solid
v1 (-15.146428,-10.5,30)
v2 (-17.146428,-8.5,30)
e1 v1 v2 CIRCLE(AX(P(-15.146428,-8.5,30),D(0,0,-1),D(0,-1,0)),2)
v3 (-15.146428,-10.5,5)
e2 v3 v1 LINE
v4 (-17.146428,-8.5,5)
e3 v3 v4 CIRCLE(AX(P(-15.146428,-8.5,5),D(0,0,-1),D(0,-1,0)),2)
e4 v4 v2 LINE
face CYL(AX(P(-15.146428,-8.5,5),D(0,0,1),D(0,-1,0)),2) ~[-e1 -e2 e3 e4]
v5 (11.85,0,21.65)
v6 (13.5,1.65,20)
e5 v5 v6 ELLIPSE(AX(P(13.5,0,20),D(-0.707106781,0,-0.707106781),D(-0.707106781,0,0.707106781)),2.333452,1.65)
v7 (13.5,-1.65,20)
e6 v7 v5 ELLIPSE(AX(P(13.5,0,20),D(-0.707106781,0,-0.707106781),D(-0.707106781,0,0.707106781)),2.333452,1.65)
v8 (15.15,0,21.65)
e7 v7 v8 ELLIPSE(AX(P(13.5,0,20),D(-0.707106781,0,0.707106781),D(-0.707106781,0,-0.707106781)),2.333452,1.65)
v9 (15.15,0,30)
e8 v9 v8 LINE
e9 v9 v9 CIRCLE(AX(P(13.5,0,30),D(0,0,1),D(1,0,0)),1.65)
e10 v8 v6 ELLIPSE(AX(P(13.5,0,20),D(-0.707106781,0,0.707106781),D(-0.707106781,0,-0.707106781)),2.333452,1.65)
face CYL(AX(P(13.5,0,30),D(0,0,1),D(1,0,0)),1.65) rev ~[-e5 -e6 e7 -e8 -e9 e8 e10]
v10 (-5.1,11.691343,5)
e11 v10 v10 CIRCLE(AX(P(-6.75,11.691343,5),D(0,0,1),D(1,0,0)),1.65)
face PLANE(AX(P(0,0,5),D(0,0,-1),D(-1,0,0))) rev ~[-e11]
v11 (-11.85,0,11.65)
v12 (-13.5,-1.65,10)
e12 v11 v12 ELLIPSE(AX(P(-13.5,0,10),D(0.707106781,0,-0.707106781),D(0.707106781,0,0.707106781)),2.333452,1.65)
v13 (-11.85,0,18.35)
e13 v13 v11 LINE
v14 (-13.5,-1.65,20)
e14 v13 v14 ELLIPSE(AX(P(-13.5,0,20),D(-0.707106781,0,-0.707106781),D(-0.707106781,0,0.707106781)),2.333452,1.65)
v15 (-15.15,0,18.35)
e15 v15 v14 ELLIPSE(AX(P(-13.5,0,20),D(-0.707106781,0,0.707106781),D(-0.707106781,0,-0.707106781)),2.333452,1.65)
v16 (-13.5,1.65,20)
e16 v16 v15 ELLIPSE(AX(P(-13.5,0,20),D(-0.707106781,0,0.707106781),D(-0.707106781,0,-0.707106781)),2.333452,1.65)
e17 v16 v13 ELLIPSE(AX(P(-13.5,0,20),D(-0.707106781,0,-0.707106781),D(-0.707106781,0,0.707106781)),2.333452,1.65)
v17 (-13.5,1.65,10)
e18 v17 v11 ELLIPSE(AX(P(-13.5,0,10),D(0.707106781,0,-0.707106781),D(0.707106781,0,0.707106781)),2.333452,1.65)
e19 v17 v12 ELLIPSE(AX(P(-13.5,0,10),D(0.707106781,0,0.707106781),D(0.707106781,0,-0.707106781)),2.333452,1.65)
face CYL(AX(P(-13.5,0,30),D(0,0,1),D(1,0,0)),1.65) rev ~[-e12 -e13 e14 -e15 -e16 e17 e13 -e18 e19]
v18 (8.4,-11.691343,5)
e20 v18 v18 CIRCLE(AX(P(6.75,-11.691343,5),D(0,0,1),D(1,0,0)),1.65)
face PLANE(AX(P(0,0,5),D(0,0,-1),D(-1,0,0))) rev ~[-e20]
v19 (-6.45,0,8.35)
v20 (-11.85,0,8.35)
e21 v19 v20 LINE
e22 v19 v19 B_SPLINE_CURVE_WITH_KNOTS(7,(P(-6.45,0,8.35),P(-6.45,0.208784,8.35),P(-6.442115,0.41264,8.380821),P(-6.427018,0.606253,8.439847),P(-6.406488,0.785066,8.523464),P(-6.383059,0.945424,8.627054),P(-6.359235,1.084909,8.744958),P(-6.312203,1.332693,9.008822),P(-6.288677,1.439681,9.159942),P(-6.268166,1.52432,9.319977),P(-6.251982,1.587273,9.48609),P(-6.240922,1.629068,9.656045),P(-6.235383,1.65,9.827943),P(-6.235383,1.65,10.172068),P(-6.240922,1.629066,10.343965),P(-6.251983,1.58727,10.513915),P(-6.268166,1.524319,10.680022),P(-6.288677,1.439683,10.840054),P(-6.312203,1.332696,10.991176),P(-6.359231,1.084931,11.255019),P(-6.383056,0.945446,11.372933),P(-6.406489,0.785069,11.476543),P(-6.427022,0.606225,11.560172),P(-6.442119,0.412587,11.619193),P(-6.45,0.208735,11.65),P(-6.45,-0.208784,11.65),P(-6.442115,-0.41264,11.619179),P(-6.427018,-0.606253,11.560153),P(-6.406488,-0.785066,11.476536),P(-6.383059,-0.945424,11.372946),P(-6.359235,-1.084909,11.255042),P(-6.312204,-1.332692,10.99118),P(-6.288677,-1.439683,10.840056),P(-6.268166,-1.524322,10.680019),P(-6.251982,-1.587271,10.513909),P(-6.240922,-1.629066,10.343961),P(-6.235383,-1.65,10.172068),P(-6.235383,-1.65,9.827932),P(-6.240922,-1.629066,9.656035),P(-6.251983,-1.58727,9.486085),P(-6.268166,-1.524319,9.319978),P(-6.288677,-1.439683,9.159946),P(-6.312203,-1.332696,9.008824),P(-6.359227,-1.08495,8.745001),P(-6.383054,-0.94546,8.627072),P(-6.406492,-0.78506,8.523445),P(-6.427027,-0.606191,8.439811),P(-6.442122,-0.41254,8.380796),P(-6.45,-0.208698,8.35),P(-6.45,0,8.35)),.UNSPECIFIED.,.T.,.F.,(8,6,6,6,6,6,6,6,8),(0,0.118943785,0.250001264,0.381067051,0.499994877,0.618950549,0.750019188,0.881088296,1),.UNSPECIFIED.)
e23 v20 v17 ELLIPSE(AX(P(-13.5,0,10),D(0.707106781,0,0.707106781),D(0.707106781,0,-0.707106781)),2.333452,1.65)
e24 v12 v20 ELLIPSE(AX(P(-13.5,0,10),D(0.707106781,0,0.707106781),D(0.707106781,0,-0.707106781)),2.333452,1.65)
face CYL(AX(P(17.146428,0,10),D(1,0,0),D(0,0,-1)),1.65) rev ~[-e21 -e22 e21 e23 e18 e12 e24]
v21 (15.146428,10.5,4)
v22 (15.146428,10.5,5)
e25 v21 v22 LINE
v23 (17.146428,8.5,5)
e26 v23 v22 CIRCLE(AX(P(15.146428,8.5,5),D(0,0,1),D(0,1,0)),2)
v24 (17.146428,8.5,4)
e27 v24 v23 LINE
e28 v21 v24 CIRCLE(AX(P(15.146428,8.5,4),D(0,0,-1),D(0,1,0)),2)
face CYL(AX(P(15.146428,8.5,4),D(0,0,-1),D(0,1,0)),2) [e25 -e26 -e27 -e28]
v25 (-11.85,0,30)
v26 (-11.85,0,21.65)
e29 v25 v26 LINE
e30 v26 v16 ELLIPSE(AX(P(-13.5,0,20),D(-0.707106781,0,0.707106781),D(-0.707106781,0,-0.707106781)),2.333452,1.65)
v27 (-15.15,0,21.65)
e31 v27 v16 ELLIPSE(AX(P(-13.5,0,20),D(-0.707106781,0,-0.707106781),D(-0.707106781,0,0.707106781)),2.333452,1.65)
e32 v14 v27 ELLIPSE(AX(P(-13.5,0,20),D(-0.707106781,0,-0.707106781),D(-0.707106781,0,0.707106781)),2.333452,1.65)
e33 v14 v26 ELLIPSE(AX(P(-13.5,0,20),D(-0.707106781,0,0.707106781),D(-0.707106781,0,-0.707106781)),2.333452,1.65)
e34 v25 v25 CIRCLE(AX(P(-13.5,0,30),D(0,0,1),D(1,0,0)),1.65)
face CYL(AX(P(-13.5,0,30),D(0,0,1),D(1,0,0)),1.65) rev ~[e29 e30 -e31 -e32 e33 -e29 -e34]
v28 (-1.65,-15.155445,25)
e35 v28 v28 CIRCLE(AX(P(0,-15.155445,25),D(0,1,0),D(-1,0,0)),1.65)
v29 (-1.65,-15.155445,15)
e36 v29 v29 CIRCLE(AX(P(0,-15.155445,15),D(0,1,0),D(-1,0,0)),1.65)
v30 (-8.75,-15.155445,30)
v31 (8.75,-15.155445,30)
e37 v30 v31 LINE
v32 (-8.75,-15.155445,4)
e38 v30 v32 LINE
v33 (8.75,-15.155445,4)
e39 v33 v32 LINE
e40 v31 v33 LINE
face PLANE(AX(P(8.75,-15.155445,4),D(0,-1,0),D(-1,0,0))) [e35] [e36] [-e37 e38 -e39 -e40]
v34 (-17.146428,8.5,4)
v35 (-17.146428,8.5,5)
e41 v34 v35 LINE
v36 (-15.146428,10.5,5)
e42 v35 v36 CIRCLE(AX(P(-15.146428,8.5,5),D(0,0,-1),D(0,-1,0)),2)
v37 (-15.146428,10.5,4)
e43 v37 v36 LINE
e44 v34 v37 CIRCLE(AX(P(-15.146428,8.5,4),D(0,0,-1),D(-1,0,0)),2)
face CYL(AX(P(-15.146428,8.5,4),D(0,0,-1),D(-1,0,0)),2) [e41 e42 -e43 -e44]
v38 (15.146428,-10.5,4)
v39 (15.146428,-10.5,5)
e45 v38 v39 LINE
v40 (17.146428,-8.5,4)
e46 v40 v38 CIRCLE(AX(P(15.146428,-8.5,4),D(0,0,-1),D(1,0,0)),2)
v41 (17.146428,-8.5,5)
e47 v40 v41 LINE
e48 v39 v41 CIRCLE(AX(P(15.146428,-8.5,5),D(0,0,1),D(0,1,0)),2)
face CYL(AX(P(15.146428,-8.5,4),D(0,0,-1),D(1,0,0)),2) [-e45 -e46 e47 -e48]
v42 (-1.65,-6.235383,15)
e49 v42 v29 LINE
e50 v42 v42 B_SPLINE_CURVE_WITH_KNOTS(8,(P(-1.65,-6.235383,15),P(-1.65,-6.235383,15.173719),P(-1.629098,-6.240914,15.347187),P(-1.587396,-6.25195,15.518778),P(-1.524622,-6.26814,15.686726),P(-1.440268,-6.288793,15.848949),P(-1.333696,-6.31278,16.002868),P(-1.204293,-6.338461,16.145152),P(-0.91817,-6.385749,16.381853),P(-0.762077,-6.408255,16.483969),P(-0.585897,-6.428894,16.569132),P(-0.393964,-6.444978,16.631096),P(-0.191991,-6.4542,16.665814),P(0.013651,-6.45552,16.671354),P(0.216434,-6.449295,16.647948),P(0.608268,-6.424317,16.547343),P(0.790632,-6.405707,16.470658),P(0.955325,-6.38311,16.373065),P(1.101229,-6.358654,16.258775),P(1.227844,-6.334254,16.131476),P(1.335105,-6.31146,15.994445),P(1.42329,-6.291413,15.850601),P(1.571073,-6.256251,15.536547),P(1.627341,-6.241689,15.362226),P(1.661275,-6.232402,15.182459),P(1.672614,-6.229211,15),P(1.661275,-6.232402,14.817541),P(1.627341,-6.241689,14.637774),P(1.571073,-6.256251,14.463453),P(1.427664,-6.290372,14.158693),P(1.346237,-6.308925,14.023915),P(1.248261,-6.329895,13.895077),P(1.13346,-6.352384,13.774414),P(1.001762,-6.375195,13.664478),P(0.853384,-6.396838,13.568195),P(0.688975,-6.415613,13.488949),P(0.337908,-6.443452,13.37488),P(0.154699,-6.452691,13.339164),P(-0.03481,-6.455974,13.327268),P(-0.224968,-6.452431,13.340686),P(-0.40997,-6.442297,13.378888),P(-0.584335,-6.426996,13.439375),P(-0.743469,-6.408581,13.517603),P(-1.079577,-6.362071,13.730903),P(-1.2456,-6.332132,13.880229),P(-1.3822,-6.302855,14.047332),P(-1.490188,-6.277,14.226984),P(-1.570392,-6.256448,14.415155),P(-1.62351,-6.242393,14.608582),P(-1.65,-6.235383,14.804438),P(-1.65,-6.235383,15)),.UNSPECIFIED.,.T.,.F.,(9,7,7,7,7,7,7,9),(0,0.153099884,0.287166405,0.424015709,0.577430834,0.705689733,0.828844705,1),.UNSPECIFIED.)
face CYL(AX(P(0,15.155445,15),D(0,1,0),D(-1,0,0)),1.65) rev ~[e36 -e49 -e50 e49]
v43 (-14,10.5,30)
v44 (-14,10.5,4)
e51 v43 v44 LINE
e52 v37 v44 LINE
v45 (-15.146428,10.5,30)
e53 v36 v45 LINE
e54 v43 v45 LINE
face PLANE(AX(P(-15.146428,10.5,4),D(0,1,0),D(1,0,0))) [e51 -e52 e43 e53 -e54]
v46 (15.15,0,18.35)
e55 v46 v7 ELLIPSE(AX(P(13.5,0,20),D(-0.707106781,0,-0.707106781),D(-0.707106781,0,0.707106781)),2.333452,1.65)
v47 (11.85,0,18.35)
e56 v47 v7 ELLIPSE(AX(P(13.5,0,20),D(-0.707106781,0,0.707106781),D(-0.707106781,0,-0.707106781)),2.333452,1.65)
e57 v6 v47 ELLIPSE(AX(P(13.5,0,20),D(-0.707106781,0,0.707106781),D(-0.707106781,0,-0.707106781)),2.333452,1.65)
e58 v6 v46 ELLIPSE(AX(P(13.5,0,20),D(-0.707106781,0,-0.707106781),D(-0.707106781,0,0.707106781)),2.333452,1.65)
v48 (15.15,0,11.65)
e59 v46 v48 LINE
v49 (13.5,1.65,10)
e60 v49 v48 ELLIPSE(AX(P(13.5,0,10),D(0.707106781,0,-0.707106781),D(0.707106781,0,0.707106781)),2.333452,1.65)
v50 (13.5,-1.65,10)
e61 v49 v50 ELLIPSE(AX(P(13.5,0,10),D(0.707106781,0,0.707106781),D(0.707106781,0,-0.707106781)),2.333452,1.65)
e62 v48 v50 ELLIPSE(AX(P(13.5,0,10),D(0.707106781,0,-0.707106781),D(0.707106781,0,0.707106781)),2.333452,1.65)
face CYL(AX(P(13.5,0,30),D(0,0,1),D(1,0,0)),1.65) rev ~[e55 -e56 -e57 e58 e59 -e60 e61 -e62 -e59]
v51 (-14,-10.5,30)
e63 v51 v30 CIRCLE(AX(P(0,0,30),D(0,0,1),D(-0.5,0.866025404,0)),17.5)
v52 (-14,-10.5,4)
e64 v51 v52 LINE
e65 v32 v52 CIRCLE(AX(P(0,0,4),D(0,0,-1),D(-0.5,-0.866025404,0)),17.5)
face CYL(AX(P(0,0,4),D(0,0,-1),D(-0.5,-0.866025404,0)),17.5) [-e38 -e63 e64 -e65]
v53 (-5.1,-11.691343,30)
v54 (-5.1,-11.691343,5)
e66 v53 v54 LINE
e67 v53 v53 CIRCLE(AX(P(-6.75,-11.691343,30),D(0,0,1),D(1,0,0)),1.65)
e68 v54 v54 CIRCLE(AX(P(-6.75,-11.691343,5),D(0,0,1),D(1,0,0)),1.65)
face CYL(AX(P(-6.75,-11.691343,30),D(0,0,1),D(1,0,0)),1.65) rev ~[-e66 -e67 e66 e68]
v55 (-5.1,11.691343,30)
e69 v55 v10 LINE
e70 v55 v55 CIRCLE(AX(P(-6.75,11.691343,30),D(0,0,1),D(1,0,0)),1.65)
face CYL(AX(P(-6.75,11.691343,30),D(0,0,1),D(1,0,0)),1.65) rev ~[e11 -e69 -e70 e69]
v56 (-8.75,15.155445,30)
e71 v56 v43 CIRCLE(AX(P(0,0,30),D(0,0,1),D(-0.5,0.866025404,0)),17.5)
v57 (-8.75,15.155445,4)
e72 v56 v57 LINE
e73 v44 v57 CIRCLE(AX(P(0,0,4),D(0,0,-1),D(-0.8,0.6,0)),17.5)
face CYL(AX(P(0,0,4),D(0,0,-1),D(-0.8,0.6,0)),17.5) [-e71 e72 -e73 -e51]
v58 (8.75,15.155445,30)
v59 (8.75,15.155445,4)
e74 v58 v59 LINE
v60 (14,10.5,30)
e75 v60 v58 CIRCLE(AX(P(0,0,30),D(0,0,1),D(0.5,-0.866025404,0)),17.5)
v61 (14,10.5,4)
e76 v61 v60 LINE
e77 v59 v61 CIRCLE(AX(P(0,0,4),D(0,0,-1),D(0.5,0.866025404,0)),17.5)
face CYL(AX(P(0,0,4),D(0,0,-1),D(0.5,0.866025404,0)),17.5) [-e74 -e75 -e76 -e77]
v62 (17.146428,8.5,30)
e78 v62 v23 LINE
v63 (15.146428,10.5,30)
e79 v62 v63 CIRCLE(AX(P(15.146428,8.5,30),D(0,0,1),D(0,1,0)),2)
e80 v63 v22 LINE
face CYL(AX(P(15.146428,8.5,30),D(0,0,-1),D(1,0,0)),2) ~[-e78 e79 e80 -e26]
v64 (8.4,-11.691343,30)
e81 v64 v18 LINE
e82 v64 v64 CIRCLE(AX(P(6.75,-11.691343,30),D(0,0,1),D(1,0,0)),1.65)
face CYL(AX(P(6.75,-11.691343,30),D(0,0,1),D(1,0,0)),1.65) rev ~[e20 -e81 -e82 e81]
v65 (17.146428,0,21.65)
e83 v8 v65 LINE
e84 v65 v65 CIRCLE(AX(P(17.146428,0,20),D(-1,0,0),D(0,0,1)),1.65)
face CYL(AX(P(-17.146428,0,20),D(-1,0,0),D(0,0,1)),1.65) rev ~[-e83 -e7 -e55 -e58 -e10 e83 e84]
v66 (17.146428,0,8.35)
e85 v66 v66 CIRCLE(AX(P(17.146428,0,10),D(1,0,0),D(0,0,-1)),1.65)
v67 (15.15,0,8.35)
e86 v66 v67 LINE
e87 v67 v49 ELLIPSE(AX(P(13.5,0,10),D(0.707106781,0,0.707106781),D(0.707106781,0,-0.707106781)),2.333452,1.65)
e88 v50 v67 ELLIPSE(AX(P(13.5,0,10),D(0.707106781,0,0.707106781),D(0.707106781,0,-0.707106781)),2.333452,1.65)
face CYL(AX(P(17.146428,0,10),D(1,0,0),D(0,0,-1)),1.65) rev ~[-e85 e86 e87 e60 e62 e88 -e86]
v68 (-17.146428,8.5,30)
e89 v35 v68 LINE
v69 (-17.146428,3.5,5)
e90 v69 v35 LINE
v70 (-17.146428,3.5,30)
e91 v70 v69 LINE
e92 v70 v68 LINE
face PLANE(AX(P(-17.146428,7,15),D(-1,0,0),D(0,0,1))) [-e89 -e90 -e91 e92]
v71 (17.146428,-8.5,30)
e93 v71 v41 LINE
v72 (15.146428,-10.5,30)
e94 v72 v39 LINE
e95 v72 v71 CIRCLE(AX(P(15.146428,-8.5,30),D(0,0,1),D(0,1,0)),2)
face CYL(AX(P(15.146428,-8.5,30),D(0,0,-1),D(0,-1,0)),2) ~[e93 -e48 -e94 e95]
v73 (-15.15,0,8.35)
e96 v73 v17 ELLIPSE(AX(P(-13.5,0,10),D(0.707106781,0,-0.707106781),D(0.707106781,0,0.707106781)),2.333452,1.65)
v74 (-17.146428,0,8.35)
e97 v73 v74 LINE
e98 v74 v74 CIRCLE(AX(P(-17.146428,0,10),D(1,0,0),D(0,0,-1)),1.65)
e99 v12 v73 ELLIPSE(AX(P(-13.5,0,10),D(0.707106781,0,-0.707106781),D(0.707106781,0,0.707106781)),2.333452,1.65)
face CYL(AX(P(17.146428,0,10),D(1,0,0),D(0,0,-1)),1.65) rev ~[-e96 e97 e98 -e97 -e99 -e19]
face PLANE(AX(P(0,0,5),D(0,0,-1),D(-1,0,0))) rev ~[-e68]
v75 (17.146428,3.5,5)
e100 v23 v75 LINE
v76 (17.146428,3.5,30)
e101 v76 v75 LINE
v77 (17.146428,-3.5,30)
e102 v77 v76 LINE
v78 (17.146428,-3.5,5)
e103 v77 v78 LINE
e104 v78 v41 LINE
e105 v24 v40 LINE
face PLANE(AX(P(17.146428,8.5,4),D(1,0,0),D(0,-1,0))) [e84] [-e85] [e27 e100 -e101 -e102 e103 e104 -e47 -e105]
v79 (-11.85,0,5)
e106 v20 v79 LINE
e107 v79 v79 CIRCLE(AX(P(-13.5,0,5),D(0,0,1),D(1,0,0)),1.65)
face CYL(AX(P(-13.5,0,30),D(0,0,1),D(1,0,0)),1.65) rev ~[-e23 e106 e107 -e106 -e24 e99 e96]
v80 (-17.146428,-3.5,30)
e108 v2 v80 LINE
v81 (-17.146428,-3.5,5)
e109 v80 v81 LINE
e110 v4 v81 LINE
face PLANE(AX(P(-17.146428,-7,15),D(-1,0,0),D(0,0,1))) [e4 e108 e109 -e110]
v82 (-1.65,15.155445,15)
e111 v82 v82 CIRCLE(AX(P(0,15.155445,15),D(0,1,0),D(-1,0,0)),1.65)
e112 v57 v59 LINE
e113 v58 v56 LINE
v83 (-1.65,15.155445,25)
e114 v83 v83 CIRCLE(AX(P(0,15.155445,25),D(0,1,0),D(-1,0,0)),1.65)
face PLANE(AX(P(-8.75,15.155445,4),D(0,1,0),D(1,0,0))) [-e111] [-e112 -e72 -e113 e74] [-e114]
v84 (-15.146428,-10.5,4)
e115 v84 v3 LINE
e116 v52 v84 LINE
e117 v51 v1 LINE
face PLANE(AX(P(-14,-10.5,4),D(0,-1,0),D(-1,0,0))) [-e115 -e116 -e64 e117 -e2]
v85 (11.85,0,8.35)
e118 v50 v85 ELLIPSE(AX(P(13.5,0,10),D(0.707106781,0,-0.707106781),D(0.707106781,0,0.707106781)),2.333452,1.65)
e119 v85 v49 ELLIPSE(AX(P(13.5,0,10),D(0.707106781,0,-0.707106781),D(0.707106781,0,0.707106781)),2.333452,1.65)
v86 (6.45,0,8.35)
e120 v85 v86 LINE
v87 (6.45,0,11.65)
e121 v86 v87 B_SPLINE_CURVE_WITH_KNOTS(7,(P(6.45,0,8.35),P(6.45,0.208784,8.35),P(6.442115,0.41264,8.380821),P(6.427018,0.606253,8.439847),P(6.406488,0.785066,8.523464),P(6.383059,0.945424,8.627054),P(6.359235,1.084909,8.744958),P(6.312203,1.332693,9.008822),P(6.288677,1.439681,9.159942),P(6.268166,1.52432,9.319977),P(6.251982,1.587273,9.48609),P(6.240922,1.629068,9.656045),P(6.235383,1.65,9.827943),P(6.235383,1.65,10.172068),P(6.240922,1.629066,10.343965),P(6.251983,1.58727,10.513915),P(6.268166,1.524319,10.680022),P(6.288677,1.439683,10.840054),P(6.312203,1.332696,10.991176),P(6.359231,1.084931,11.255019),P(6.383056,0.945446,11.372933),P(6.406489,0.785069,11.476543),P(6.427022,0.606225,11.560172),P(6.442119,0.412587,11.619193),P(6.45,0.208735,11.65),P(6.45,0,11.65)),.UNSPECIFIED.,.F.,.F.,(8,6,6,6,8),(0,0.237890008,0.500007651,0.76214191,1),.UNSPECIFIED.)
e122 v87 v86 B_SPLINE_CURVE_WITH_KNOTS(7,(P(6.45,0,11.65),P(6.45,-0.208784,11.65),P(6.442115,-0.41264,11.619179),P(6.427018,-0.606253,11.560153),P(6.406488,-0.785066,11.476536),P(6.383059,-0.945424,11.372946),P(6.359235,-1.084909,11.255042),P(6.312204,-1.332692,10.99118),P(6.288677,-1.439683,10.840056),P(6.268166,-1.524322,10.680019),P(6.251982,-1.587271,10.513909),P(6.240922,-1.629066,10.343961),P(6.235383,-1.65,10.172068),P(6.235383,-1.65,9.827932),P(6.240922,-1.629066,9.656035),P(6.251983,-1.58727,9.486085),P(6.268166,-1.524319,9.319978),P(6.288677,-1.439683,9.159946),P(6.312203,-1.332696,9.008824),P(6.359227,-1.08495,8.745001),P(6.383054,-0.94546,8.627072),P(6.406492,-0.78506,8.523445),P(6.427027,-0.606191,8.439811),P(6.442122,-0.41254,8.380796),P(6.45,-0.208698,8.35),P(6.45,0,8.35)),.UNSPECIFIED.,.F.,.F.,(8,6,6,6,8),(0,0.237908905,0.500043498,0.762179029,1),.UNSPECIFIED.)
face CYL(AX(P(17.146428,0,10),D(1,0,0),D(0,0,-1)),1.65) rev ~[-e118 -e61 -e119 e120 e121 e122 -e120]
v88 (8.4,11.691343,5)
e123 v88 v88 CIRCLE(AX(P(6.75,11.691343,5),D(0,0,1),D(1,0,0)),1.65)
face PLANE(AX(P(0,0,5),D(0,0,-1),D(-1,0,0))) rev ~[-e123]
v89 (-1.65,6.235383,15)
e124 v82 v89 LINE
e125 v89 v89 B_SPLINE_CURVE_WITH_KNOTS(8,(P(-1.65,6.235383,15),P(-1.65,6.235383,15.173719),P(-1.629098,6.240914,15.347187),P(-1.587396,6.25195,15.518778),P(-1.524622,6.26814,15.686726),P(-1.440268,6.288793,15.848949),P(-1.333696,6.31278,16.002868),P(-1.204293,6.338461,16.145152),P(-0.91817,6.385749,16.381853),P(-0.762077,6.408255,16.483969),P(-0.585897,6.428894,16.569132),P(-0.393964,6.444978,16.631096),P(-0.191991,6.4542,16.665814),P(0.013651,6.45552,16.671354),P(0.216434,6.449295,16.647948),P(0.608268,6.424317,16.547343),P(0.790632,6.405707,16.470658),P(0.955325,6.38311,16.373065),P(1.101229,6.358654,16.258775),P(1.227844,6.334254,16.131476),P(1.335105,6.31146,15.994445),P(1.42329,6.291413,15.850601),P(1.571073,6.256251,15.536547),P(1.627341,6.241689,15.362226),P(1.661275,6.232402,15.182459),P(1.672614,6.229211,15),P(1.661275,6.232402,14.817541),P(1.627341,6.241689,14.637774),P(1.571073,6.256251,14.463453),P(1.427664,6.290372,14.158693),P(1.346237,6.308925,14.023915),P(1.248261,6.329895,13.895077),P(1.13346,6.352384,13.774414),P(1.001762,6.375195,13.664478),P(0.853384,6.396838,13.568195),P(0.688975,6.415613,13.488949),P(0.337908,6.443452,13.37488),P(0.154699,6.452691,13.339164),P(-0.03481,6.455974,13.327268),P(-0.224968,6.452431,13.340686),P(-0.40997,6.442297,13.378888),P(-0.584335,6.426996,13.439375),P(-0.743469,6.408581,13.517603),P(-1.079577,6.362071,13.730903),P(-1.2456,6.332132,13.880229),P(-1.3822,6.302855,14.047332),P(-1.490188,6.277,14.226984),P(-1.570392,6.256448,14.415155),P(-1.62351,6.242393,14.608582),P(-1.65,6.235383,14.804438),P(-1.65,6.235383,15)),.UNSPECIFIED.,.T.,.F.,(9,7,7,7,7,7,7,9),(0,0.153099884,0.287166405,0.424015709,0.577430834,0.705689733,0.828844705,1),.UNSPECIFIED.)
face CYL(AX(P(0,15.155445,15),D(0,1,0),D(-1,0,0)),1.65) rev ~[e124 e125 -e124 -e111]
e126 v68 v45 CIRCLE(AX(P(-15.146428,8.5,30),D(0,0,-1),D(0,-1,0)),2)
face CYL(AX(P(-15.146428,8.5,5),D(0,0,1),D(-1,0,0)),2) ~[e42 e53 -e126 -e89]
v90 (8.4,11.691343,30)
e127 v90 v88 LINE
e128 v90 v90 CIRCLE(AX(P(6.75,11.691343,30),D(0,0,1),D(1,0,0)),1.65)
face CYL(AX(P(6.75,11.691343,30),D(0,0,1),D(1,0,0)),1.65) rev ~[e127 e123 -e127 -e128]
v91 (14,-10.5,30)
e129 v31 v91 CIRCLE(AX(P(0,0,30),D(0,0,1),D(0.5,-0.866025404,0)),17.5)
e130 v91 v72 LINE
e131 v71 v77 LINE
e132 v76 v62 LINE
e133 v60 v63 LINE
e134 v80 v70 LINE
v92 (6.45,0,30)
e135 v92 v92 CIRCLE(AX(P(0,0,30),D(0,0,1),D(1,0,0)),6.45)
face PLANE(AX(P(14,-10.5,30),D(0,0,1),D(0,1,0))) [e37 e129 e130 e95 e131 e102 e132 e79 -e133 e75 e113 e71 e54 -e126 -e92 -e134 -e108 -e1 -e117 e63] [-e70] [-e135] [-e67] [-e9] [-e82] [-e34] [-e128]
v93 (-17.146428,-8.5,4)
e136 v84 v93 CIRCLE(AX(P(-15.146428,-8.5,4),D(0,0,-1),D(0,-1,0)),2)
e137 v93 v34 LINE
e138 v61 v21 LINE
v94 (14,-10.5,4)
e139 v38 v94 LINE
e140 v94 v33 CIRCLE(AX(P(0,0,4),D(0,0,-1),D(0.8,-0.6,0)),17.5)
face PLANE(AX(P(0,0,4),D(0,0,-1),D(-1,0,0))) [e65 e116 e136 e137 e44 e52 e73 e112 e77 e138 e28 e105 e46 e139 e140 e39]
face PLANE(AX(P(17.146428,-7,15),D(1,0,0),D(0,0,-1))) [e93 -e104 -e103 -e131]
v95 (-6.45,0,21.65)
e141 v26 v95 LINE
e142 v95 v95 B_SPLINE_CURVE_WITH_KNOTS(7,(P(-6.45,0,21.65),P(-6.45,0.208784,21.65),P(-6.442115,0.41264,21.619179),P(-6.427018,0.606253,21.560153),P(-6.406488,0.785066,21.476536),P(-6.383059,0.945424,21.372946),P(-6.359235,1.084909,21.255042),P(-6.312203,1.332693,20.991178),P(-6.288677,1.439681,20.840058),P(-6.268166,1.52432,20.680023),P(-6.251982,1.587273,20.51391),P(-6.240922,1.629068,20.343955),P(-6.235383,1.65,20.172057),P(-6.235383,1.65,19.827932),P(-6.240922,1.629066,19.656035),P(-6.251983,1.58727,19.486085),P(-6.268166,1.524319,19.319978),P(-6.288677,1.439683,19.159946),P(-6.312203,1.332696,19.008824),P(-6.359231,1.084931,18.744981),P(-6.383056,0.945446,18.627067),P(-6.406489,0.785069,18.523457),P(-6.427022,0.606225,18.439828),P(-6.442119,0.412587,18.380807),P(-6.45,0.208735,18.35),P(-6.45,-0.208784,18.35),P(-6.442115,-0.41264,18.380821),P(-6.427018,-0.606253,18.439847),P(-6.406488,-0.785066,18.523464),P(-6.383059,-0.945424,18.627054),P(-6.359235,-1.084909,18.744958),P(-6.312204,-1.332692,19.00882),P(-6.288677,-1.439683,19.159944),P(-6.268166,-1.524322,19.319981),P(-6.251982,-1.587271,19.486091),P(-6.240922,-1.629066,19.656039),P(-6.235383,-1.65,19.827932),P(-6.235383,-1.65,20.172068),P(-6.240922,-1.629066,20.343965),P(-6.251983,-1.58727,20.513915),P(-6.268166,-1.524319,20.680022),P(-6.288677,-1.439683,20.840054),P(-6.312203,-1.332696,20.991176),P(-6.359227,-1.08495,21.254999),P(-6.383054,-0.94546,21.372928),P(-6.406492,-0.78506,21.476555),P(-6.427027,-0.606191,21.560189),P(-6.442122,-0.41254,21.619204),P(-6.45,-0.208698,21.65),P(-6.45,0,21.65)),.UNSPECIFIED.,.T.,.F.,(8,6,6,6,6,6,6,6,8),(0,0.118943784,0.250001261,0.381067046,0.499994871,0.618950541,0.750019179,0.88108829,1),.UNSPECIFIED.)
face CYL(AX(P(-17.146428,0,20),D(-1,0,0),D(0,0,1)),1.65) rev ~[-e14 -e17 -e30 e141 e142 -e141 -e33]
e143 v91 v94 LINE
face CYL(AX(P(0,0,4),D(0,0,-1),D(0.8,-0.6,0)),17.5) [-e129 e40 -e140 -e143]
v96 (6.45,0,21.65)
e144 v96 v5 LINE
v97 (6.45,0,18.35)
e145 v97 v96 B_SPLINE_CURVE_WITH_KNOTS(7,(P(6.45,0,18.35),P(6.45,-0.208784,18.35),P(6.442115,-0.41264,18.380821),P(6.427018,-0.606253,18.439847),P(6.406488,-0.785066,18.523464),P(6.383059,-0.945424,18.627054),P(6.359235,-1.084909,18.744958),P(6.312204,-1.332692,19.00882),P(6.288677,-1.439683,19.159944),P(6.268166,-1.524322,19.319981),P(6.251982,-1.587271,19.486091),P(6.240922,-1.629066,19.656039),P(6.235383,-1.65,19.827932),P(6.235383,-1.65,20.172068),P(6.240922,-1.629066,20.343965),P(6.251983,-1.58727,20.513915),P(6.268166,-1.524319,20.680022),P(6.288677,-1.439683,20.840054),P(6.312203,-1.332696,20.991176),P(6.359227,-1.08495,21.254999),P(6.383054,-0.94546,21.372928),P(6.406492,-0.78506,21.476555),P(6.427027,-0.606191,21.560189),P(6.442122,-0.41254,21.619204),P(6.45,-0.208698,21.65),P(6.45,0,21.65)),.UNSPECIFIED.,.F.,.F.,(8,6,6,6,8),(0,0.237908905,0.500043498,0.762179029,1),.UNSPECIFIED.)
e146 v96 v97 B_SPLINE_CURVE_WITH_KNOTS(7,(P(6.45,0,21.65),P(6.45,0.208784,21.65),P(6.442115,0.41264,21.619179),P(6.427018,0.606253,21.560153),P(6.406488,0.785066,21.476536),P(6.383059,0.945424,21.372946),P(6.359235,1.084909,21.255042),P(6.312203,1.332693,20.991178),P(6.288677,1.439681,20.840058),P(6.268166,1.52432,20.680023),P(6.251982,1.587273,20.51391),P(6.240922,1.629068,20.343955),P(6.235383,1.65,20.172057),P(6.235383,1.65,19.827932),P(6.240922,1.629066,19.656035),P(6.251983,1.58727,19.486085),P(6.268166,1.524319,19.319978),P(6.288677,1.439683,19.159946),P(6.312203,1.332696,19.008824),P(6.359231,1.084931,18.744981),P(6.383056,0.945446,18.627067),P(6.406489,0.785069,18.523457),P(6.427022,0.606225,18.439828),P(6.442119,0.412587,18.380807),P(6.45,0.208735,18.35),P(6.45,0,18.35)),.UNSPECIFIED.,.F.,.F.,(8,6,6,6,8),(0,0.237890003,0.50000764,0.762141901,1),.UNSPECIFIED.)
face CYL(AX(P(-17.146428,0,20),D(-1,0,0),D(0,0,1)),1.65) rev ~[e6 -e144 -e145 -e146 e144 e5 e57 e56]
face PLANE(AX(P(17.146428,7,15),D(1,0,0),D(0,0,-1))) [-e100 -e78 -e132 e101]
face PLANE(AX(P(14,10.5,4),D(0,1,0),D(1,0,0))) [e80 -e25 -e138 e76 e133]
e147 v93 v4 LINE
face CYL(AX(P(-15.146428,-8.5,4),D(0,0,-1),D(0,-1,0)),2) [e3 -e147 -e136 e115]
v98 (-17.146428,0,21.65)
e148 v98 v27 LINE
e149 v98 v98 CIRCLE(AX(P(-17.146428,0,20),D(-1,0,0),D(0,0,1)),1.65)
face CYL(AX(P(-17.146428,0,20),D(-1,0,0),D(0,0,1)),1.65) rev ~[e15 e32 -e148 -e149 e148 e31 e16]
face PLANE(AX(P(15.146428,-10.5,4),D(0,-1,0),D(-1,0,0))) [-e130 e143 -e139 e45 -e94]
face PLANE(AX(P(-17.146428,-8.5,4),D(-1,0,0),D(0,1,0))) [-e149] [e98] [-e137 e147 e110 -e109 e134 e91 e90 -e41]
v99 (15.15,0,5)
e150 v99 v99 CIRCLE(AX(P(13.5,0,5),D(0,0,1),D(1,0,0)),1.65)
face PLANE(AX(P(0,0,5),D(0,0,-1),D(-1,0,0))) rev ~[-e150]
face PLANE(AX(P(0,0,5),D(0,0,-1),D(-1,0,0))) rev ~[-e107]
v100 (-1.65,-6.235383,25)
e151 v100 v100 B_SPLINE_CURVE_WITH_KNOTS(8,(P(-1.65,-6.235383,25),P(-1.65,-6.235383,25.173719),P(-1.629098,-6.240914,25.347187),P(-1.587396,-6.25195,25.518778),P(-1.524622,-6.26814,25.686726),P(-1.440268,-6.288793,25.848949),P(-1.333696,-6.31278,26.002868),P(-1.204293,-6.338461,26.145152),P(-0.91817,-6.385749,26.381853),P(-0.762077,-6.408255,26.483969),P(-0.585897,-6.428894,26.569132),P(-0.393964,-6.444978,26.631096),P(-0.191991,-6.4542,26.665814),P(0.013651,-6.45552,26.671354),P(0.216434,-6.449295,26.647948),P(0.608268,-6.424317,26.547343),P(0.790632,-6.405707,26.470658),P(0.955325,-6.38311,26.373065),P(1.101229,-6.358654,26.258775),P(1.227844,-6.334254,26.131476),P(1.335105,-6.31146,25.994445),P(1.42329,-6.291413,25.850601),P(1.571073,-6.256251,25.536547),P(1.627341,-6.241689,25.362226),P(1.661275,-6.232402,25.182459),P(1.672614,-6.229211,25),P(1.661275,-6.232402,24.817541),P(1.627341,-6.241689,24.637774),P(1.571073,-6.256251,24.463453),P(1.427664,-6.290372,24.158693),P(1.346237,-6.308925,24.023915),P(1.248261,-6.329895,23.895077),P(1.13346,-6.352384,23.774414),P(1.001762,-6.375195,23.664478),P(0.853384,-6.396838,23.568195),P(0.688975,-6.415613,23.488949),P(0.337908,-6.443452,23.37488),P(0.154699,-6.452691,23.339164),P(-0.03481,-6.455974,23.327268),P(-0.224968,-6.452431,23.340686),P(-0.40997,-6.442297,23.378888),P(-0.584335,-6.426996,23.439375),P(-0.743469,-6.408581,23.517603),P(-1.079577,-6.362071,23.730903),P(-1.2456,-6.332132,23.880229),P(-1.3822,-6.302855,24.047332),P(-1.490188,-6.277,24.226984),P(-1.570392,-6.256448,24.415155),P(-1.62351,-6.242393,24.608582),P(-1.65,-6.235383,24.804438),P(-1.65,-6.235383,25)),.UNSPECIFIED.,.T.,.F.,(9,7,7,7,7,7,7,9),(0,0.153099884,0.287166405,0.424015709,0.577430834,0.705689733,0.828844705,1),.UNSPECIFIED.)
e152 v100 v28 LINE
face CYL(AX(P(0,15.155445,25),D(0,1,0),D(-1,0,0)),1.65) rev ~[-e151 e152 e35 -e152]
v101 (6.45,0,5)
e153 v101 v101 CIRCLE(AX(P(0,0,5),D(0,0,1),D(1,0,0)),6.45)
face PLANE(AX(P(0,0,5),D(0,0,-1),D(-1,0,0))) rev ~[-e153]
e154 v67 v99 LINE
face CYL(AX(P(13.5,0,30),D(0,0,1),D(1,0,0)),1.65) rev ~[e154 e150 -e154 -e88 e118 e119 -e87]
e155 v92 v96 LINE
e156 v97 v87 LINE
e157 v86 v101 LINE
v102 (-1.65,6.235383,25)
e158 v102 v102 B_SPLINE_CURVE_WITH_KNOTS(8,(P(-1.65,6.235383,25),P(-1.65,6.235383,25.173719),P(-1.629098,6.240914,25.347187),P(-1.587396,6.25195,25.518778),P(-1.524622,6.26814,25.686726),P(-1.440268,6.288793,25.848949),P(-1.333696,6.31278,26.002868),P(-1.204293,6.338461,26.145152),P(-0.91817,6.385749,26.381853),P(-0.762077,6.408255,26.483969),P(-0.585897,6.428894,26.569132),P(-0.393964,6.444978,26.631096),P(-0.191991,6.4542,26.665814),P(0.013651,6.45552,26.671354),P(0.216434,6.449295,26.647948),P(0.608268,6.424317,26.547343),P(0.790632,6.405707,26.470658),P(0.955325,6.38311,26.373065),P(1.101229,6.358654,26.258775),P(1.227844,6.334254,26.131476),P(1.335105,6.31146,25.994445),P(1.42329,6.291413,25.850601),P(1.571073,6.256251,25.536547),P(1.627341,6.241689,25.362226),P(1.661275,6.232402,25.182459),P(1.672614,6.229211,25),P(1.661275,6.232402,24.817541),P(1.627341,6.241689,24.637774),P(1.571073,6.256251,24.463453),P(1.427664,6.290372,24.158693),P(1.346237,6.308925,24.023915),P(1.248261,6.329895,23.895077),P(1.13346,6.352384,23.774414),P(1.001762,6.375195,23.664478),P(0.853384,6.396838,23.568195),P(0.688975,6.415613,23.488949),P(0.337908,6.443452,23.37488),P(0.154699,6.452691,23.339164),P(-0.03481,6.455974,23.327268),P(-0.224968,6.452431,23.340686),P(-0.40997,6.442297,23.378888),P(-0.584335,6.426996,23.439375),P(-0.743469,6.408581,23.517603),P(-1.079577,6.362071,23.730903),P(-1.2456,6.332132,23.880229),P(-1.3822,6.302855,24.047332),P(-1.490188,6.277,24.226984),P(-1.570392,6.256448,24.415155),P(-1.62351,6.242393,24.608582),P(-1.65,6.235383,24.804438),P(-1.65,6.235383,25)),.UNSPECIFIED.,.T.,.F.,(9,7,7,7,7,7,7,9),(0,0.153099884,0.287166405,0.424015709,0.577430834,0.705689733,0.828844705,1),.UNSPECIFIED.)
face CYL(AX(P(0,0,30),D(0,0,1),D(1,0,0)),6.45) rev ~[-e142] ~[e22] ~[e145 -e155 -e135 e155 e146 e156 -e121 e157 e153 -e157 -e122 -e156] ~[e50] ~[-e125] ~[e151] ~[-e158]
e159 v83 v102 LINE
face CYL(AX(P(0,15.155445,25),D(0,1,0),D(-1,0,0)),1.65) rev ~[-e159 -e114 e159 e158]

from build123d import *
from build123d.topology import SkipClean

# Parameters (mm, degrees)
EXTRUDE_1_DEPTH      = 30
SKETCH_3_R           = 6.45
CUT_EXTRUDE_1_DEPTH  = 38.893765978
SKETCH_4_R           = 1.65
CUT_EXTRUDE_2_DEPTH  = 47.097722286
CUT_EXTRUDE_START    = -14
SKETCH_7_W           = 30
SKETCH_7_H           = 7
CUT_EXTRUDE_4_DEPTH  = 30
CUT_EXTRUDE_START_2  = 14
SKETCH_7_2_W         = 30
SKETCH_7_2_H         = 7
CUT_EXTRUDE_5_DEPTH  = 30
SKETCH_10_W          = 30
SKETCH_10_H          = 7
EXTRUDE_2_DEPTH      = 3.146428
SKETCH_11_W          = 30
SKETCH_11_H          = 7
EXTRUDE_3_DEPTH      = 3.146428
SKETCH_12_R          = 1.65
CUT_EXTRUDE_6_DEPTH  = 49.270720898
SKETCH_14_W          = 2.981852414
SKETCH_14_H          = 30.826717304
SKETCH_14_W_2        = 3.229128589
SKETCH_14_H_2        = 31.791094385
CUT_EXTRUDE_7_DEPTH  = 47.097722467
SKETCH_17_R          = 1.65
CUT_EXTRUDE_9_DEPTH  = 49.017575073
CUT_EXTRUDE_10_DEPTH = 5
SKETCH_19_R          = 1.65
CUT_EXTRUDE_11_DEPTH = 34.892292803
FILLET_1_R           = 2
EXTRUDE_START        = 1
EXTRUDE_6_DEPTH      = 1


with BuildPart() as part:
    # 草图1 → 凸台-拉伸1 (new body)
    with BuildSketch(Plane.XY):
        with BuildLine():
            Line((8.75, 15.155444566), (-8.75, 15.155444566))
            ThreePointArc((-8.75, 15.155444566), (-17.5, 0), (-8.75, -15.155444566))
            Line((-8.75, -15.155444566), (8.75, -15.155444566))
            ThreePointArc((8.75, -15.155444566), (17.5, 0), (8.75, 15.155444566))
        make_face()
    extrude(amount=EXTRUDE_1_DEPTH)

    # 草图3 → 切除-拉伸1 (cut, through all)
    with BuildSketch(Plane.XY.offset(30)):
        Circle(SKETCH_3_R)
    extrude(amount=-CUT_EXTRUDE_1_DEPTH, mode=Mode.SUBTRACT)

    # 草图4 → 切除-拉伸2 (cut, through all)
    with BuildSketch(Plane(origin=(0, 15.155444566, 0), x_dir=(1, 0, 0), z_dir=(0, 1, 0))):
        with Locations(Location((0, -15, 0), (0, 0, 180))):
            Circle(SKETCH_4_R)
        with Locations(Location((0, -25, 0), (0, 0, 180))):
            Circle(SKETCH_4_R)
    extrude(amount=-CUT_EXTRUDE_2_DEPTH, mode=Mode.SUBTRACT)

    # 草图7 → 切除-拉伸4 (cut)
    with BuildSketch(Plane(origin=(0, 0, 0), x_dir=(0, 0, -1), z_dir=(1, 0, 0)).offset(CUT_EXTRUDE_START)):
        with Locations((-15, 7)):
            Rectangle(SKETCH_7_W, SKETCH_7_H)
        with Locations((-15, -7)):
            Rectangle(SKETCH_7_W, SKETCH_7_H)
    extrude(amount=-CUT_EXTRUDE_4_DEPTH, mode=Mode.SUBTRACT)

    # 草图7<2> → 切除-拉伸5 (cut)
    with BuildSketch(Plane(origin=(0, 0, 0), x_dir=(0, 0, -1), z_dir=(1, 0, 0)).offset(CUT_EXTRUDE_START_2)):
        with Locations((-15, 7)):
            Rectangle(SKETCH_7_2_W, SKETCH_7_2_H)
        with Locations((-15, -7)):
            Rectangle(SKETCH_7_2_W, SKETCH_7_2_H)
    extrude(amount=CUT_EXTRUDE_5_DEPTH, mode=Mode.SUBTRACT)

    # 草图10 → 凸台-拉伸2 (add)
    with BuildSketch(Plane.ZY.offset(14)):
        with Locations((15, -7)):
            Rectangle(SKETCH_10_W, SKETCH_10_H)
        with Locations((15, 7)):
            Rectangle(SKETCH_10_W, SKETCH_10_H)
    extrude(amount=EXTRUDE_2_DEPTH)

    # 草图11 → 凸台-拉伸3 (add)
    with BuildSketch(Plane(origin=(14, 0, 0), x_dir=(0, 0, -1), z_dir=(1, 0, 0))):
        with Locations((-15, -7)):
            Rectangle(SKETCH_11_W, SKETCH_11_H)
        with Locations((-15, 7)):
            Rectangle(SKETCH_11_W, SKETCH_11_H)
    extrude(amount=EXTRUDE_3_DEPTH)

    # 草图12 → 切除-拉伸6 (cut, through all)
    with BuildSketch(Plane.ZY.offset(17.146428199)):
        with Locations((20, 0)):
            Circle(SKETCH_12_R)
    extrude(amount=-CUT_EXTRUDE_6_DEPTH, mode=Mode.SUBTRACT)

    # 草图14 → 切除-拉伸7 (cut, through all)
    with SkipClean():  # the faces are left unmerged after this step: merging them gives an invalid solid
        with BuildSketch(Plane.XZ.offset(15.155444566)):
            with Locations((-18.637354406, 14.586641348)):
                Rectangle(SKETCH_14_W, SKETCH_14_H)
            with Locations((18.760992494, 14.104452808)):
                Rectangle(SKETCH_14_W_2, SKETCH_14_H_2)
        extrude(amount=-CUT_EXTRUDE_7_DEPTH, mode=Mode.SUBTRACT)

    # 草图17 → 切除-拉伸9 (cut, through all)
    with SkipClean():  # the faces are left unmerged after this step: merging them gives an invalid solid
        with BuildSketch(Plane(origin=(17.146428199, 0, 0), x_dir=(0, 0, -1), z_dir=(1, 0, 0))):
            with Locations((-10, 0)):
                Circle(SKETCH_17_R)
        extrude(amount=-CUT_EXTRUDE_9_DEPTH, mode=Mode.SUBTRACT)

    # 草图18 → 切除-拉伸10 (cut)
    with BuildSketch(Plane(origin=(0, 0, 0), x_dir=(-1, 0, 0), z_dir=(0, 0, -1))):
        with BuildLine():
            Line((-14, 10.5), (-17.146428199, 10.5))
            Line((-17.146428199, 10.5), (-17.146428199, -10.5))
            Line((-17.146428199, -10.5), (-14, -10.5))
            ThreePointArc((-14, -10.5), (-11.610724182, -13.093551236), (-8.75, -15.155444566))
            Line((-8.75, -15.155444566), (8.75, -15.155444566))
            ThreePointArc((8.75, -15.155444566), (11.610724182, -13.093551236), (14, -10.5))
            Line((14, -10.5), (17.146428199, -10.5))
            Line((17.146428199, -10.5), (17.146428199, 10.5))
            Line((17.146428199, 10.5), (14, 10.5))
            ThreePointArc((14, 10.5), (11.610724182, 13.093551236), (8.75, 15.155444566))
            Line((8.75, 15.155444566), (-8.75, 15.155444566))
            ThreePointArc((-8.75, 15.155444566), (-11.610724182, 13.093551236), (-14, 10.5))
        make_face()
    extrude(amount=-CUT_EXTRUDE_10_DEPTH, mode=Mode.SUBTRACT)

    # 草图19 → 切除-拉伸11 (cut, through all)
    with BuildSketch(Plane.XY.offset(30)):
        with Locations((13.5, 0)):
            Circle(SKETCH_19_R)
        with Locations((6.75, -11.691342951)):
            Circle(SKETCH_19_R)
        with Locations((-6.75, -11.691342951)):
            Circle(SKETCH_19_R)
        with Locations((-13.5, 0)):
            Circle(SKETCH_19_R)
        with Locations((-6.75, 11.691342951)):
            Circle(SKETCH_19_R)
        with Locations((6.75, 11.691342951)):
            Circle(SKETCH_19_R)
    extrude(amount=-CUT_EXTRUDE_11_DEPTH, mode=Mode.SUBTRACT)

    # 圆角1
    fillet_1_edges = [part.edges().sort_by_distance(p)[0] for p in [
        (-17.146428, 10.5, 17.5),
        (17.146428, -10.5, 17.5),
        (17.146428, 10.5, 17.5),
        (-17.146428, -10.5, 17.5),
    ]]
    fillet(fillet_1_edges, radius=FILLET_1_R)

    # 草图24 → 凸台-拉伸6 (add)
    with BuildSketch(Plane(origin=(0, 0, 5), x_dir=(-1, 0, 0), z_dir=(0, 0, -1)).offset(EXTRUDE_START)):
        with BuildLine():
            Line((-17.146428199, 8.5), (-17.146428199, -8.5))
            ThreePointArc((-17.146428199, -8.5), (-16.560641762, -9.914213562), (-15.146428199, -10.5))
            Line((-15.146428199, -10.5), (-14, -10.5))
            ThreePointArc((-14, -10.5), (-11.610724182, -13.093551236), (-8.75, -15.155444566))
            Line((-8.75, -15.155444566), (8.75, -15.155444566))
            ThreePointArc((8.75, -15.155444566), (11.610724182, -13.093551236), (14, -10.5))
            Line((14, -10.5), (15.146428199, -10.5))
            ThreePointArc((15.146428199, -10.5), (16.560641762, -9.914213562), (17.146428199, -8.5))
            Line((17.146428199, -8.5), (17.146428199, 8.5))
            ThreePointArc((17.146428199, 8.5), (16.560641762, 9.914213562), (15.146428199, 10.5))
            Line((15.146428199, 10.5), (14, 10.5))
            ThreePointArc((14, 10.5), (11.610724182, 13.093551236), (8.75, 15.155444566))
            Line((8.75, 15.155444566), (-8.75, 15.155444566))
            ThreePointArc((-8.75, 15.155444566), (-11.610724182, 13.093551236), (-14, 10.5))
            Line((-14, 10.5), (-15.146428199, 10.5))
            ThreePointArc((-15.146428199, 10.5), (-16.560641762, 9.914213562), (-17.146428199, 8.5))
        make_face()
    extrude(amount=-EXTRUDE_6_DEPTH)


solid = part.part
